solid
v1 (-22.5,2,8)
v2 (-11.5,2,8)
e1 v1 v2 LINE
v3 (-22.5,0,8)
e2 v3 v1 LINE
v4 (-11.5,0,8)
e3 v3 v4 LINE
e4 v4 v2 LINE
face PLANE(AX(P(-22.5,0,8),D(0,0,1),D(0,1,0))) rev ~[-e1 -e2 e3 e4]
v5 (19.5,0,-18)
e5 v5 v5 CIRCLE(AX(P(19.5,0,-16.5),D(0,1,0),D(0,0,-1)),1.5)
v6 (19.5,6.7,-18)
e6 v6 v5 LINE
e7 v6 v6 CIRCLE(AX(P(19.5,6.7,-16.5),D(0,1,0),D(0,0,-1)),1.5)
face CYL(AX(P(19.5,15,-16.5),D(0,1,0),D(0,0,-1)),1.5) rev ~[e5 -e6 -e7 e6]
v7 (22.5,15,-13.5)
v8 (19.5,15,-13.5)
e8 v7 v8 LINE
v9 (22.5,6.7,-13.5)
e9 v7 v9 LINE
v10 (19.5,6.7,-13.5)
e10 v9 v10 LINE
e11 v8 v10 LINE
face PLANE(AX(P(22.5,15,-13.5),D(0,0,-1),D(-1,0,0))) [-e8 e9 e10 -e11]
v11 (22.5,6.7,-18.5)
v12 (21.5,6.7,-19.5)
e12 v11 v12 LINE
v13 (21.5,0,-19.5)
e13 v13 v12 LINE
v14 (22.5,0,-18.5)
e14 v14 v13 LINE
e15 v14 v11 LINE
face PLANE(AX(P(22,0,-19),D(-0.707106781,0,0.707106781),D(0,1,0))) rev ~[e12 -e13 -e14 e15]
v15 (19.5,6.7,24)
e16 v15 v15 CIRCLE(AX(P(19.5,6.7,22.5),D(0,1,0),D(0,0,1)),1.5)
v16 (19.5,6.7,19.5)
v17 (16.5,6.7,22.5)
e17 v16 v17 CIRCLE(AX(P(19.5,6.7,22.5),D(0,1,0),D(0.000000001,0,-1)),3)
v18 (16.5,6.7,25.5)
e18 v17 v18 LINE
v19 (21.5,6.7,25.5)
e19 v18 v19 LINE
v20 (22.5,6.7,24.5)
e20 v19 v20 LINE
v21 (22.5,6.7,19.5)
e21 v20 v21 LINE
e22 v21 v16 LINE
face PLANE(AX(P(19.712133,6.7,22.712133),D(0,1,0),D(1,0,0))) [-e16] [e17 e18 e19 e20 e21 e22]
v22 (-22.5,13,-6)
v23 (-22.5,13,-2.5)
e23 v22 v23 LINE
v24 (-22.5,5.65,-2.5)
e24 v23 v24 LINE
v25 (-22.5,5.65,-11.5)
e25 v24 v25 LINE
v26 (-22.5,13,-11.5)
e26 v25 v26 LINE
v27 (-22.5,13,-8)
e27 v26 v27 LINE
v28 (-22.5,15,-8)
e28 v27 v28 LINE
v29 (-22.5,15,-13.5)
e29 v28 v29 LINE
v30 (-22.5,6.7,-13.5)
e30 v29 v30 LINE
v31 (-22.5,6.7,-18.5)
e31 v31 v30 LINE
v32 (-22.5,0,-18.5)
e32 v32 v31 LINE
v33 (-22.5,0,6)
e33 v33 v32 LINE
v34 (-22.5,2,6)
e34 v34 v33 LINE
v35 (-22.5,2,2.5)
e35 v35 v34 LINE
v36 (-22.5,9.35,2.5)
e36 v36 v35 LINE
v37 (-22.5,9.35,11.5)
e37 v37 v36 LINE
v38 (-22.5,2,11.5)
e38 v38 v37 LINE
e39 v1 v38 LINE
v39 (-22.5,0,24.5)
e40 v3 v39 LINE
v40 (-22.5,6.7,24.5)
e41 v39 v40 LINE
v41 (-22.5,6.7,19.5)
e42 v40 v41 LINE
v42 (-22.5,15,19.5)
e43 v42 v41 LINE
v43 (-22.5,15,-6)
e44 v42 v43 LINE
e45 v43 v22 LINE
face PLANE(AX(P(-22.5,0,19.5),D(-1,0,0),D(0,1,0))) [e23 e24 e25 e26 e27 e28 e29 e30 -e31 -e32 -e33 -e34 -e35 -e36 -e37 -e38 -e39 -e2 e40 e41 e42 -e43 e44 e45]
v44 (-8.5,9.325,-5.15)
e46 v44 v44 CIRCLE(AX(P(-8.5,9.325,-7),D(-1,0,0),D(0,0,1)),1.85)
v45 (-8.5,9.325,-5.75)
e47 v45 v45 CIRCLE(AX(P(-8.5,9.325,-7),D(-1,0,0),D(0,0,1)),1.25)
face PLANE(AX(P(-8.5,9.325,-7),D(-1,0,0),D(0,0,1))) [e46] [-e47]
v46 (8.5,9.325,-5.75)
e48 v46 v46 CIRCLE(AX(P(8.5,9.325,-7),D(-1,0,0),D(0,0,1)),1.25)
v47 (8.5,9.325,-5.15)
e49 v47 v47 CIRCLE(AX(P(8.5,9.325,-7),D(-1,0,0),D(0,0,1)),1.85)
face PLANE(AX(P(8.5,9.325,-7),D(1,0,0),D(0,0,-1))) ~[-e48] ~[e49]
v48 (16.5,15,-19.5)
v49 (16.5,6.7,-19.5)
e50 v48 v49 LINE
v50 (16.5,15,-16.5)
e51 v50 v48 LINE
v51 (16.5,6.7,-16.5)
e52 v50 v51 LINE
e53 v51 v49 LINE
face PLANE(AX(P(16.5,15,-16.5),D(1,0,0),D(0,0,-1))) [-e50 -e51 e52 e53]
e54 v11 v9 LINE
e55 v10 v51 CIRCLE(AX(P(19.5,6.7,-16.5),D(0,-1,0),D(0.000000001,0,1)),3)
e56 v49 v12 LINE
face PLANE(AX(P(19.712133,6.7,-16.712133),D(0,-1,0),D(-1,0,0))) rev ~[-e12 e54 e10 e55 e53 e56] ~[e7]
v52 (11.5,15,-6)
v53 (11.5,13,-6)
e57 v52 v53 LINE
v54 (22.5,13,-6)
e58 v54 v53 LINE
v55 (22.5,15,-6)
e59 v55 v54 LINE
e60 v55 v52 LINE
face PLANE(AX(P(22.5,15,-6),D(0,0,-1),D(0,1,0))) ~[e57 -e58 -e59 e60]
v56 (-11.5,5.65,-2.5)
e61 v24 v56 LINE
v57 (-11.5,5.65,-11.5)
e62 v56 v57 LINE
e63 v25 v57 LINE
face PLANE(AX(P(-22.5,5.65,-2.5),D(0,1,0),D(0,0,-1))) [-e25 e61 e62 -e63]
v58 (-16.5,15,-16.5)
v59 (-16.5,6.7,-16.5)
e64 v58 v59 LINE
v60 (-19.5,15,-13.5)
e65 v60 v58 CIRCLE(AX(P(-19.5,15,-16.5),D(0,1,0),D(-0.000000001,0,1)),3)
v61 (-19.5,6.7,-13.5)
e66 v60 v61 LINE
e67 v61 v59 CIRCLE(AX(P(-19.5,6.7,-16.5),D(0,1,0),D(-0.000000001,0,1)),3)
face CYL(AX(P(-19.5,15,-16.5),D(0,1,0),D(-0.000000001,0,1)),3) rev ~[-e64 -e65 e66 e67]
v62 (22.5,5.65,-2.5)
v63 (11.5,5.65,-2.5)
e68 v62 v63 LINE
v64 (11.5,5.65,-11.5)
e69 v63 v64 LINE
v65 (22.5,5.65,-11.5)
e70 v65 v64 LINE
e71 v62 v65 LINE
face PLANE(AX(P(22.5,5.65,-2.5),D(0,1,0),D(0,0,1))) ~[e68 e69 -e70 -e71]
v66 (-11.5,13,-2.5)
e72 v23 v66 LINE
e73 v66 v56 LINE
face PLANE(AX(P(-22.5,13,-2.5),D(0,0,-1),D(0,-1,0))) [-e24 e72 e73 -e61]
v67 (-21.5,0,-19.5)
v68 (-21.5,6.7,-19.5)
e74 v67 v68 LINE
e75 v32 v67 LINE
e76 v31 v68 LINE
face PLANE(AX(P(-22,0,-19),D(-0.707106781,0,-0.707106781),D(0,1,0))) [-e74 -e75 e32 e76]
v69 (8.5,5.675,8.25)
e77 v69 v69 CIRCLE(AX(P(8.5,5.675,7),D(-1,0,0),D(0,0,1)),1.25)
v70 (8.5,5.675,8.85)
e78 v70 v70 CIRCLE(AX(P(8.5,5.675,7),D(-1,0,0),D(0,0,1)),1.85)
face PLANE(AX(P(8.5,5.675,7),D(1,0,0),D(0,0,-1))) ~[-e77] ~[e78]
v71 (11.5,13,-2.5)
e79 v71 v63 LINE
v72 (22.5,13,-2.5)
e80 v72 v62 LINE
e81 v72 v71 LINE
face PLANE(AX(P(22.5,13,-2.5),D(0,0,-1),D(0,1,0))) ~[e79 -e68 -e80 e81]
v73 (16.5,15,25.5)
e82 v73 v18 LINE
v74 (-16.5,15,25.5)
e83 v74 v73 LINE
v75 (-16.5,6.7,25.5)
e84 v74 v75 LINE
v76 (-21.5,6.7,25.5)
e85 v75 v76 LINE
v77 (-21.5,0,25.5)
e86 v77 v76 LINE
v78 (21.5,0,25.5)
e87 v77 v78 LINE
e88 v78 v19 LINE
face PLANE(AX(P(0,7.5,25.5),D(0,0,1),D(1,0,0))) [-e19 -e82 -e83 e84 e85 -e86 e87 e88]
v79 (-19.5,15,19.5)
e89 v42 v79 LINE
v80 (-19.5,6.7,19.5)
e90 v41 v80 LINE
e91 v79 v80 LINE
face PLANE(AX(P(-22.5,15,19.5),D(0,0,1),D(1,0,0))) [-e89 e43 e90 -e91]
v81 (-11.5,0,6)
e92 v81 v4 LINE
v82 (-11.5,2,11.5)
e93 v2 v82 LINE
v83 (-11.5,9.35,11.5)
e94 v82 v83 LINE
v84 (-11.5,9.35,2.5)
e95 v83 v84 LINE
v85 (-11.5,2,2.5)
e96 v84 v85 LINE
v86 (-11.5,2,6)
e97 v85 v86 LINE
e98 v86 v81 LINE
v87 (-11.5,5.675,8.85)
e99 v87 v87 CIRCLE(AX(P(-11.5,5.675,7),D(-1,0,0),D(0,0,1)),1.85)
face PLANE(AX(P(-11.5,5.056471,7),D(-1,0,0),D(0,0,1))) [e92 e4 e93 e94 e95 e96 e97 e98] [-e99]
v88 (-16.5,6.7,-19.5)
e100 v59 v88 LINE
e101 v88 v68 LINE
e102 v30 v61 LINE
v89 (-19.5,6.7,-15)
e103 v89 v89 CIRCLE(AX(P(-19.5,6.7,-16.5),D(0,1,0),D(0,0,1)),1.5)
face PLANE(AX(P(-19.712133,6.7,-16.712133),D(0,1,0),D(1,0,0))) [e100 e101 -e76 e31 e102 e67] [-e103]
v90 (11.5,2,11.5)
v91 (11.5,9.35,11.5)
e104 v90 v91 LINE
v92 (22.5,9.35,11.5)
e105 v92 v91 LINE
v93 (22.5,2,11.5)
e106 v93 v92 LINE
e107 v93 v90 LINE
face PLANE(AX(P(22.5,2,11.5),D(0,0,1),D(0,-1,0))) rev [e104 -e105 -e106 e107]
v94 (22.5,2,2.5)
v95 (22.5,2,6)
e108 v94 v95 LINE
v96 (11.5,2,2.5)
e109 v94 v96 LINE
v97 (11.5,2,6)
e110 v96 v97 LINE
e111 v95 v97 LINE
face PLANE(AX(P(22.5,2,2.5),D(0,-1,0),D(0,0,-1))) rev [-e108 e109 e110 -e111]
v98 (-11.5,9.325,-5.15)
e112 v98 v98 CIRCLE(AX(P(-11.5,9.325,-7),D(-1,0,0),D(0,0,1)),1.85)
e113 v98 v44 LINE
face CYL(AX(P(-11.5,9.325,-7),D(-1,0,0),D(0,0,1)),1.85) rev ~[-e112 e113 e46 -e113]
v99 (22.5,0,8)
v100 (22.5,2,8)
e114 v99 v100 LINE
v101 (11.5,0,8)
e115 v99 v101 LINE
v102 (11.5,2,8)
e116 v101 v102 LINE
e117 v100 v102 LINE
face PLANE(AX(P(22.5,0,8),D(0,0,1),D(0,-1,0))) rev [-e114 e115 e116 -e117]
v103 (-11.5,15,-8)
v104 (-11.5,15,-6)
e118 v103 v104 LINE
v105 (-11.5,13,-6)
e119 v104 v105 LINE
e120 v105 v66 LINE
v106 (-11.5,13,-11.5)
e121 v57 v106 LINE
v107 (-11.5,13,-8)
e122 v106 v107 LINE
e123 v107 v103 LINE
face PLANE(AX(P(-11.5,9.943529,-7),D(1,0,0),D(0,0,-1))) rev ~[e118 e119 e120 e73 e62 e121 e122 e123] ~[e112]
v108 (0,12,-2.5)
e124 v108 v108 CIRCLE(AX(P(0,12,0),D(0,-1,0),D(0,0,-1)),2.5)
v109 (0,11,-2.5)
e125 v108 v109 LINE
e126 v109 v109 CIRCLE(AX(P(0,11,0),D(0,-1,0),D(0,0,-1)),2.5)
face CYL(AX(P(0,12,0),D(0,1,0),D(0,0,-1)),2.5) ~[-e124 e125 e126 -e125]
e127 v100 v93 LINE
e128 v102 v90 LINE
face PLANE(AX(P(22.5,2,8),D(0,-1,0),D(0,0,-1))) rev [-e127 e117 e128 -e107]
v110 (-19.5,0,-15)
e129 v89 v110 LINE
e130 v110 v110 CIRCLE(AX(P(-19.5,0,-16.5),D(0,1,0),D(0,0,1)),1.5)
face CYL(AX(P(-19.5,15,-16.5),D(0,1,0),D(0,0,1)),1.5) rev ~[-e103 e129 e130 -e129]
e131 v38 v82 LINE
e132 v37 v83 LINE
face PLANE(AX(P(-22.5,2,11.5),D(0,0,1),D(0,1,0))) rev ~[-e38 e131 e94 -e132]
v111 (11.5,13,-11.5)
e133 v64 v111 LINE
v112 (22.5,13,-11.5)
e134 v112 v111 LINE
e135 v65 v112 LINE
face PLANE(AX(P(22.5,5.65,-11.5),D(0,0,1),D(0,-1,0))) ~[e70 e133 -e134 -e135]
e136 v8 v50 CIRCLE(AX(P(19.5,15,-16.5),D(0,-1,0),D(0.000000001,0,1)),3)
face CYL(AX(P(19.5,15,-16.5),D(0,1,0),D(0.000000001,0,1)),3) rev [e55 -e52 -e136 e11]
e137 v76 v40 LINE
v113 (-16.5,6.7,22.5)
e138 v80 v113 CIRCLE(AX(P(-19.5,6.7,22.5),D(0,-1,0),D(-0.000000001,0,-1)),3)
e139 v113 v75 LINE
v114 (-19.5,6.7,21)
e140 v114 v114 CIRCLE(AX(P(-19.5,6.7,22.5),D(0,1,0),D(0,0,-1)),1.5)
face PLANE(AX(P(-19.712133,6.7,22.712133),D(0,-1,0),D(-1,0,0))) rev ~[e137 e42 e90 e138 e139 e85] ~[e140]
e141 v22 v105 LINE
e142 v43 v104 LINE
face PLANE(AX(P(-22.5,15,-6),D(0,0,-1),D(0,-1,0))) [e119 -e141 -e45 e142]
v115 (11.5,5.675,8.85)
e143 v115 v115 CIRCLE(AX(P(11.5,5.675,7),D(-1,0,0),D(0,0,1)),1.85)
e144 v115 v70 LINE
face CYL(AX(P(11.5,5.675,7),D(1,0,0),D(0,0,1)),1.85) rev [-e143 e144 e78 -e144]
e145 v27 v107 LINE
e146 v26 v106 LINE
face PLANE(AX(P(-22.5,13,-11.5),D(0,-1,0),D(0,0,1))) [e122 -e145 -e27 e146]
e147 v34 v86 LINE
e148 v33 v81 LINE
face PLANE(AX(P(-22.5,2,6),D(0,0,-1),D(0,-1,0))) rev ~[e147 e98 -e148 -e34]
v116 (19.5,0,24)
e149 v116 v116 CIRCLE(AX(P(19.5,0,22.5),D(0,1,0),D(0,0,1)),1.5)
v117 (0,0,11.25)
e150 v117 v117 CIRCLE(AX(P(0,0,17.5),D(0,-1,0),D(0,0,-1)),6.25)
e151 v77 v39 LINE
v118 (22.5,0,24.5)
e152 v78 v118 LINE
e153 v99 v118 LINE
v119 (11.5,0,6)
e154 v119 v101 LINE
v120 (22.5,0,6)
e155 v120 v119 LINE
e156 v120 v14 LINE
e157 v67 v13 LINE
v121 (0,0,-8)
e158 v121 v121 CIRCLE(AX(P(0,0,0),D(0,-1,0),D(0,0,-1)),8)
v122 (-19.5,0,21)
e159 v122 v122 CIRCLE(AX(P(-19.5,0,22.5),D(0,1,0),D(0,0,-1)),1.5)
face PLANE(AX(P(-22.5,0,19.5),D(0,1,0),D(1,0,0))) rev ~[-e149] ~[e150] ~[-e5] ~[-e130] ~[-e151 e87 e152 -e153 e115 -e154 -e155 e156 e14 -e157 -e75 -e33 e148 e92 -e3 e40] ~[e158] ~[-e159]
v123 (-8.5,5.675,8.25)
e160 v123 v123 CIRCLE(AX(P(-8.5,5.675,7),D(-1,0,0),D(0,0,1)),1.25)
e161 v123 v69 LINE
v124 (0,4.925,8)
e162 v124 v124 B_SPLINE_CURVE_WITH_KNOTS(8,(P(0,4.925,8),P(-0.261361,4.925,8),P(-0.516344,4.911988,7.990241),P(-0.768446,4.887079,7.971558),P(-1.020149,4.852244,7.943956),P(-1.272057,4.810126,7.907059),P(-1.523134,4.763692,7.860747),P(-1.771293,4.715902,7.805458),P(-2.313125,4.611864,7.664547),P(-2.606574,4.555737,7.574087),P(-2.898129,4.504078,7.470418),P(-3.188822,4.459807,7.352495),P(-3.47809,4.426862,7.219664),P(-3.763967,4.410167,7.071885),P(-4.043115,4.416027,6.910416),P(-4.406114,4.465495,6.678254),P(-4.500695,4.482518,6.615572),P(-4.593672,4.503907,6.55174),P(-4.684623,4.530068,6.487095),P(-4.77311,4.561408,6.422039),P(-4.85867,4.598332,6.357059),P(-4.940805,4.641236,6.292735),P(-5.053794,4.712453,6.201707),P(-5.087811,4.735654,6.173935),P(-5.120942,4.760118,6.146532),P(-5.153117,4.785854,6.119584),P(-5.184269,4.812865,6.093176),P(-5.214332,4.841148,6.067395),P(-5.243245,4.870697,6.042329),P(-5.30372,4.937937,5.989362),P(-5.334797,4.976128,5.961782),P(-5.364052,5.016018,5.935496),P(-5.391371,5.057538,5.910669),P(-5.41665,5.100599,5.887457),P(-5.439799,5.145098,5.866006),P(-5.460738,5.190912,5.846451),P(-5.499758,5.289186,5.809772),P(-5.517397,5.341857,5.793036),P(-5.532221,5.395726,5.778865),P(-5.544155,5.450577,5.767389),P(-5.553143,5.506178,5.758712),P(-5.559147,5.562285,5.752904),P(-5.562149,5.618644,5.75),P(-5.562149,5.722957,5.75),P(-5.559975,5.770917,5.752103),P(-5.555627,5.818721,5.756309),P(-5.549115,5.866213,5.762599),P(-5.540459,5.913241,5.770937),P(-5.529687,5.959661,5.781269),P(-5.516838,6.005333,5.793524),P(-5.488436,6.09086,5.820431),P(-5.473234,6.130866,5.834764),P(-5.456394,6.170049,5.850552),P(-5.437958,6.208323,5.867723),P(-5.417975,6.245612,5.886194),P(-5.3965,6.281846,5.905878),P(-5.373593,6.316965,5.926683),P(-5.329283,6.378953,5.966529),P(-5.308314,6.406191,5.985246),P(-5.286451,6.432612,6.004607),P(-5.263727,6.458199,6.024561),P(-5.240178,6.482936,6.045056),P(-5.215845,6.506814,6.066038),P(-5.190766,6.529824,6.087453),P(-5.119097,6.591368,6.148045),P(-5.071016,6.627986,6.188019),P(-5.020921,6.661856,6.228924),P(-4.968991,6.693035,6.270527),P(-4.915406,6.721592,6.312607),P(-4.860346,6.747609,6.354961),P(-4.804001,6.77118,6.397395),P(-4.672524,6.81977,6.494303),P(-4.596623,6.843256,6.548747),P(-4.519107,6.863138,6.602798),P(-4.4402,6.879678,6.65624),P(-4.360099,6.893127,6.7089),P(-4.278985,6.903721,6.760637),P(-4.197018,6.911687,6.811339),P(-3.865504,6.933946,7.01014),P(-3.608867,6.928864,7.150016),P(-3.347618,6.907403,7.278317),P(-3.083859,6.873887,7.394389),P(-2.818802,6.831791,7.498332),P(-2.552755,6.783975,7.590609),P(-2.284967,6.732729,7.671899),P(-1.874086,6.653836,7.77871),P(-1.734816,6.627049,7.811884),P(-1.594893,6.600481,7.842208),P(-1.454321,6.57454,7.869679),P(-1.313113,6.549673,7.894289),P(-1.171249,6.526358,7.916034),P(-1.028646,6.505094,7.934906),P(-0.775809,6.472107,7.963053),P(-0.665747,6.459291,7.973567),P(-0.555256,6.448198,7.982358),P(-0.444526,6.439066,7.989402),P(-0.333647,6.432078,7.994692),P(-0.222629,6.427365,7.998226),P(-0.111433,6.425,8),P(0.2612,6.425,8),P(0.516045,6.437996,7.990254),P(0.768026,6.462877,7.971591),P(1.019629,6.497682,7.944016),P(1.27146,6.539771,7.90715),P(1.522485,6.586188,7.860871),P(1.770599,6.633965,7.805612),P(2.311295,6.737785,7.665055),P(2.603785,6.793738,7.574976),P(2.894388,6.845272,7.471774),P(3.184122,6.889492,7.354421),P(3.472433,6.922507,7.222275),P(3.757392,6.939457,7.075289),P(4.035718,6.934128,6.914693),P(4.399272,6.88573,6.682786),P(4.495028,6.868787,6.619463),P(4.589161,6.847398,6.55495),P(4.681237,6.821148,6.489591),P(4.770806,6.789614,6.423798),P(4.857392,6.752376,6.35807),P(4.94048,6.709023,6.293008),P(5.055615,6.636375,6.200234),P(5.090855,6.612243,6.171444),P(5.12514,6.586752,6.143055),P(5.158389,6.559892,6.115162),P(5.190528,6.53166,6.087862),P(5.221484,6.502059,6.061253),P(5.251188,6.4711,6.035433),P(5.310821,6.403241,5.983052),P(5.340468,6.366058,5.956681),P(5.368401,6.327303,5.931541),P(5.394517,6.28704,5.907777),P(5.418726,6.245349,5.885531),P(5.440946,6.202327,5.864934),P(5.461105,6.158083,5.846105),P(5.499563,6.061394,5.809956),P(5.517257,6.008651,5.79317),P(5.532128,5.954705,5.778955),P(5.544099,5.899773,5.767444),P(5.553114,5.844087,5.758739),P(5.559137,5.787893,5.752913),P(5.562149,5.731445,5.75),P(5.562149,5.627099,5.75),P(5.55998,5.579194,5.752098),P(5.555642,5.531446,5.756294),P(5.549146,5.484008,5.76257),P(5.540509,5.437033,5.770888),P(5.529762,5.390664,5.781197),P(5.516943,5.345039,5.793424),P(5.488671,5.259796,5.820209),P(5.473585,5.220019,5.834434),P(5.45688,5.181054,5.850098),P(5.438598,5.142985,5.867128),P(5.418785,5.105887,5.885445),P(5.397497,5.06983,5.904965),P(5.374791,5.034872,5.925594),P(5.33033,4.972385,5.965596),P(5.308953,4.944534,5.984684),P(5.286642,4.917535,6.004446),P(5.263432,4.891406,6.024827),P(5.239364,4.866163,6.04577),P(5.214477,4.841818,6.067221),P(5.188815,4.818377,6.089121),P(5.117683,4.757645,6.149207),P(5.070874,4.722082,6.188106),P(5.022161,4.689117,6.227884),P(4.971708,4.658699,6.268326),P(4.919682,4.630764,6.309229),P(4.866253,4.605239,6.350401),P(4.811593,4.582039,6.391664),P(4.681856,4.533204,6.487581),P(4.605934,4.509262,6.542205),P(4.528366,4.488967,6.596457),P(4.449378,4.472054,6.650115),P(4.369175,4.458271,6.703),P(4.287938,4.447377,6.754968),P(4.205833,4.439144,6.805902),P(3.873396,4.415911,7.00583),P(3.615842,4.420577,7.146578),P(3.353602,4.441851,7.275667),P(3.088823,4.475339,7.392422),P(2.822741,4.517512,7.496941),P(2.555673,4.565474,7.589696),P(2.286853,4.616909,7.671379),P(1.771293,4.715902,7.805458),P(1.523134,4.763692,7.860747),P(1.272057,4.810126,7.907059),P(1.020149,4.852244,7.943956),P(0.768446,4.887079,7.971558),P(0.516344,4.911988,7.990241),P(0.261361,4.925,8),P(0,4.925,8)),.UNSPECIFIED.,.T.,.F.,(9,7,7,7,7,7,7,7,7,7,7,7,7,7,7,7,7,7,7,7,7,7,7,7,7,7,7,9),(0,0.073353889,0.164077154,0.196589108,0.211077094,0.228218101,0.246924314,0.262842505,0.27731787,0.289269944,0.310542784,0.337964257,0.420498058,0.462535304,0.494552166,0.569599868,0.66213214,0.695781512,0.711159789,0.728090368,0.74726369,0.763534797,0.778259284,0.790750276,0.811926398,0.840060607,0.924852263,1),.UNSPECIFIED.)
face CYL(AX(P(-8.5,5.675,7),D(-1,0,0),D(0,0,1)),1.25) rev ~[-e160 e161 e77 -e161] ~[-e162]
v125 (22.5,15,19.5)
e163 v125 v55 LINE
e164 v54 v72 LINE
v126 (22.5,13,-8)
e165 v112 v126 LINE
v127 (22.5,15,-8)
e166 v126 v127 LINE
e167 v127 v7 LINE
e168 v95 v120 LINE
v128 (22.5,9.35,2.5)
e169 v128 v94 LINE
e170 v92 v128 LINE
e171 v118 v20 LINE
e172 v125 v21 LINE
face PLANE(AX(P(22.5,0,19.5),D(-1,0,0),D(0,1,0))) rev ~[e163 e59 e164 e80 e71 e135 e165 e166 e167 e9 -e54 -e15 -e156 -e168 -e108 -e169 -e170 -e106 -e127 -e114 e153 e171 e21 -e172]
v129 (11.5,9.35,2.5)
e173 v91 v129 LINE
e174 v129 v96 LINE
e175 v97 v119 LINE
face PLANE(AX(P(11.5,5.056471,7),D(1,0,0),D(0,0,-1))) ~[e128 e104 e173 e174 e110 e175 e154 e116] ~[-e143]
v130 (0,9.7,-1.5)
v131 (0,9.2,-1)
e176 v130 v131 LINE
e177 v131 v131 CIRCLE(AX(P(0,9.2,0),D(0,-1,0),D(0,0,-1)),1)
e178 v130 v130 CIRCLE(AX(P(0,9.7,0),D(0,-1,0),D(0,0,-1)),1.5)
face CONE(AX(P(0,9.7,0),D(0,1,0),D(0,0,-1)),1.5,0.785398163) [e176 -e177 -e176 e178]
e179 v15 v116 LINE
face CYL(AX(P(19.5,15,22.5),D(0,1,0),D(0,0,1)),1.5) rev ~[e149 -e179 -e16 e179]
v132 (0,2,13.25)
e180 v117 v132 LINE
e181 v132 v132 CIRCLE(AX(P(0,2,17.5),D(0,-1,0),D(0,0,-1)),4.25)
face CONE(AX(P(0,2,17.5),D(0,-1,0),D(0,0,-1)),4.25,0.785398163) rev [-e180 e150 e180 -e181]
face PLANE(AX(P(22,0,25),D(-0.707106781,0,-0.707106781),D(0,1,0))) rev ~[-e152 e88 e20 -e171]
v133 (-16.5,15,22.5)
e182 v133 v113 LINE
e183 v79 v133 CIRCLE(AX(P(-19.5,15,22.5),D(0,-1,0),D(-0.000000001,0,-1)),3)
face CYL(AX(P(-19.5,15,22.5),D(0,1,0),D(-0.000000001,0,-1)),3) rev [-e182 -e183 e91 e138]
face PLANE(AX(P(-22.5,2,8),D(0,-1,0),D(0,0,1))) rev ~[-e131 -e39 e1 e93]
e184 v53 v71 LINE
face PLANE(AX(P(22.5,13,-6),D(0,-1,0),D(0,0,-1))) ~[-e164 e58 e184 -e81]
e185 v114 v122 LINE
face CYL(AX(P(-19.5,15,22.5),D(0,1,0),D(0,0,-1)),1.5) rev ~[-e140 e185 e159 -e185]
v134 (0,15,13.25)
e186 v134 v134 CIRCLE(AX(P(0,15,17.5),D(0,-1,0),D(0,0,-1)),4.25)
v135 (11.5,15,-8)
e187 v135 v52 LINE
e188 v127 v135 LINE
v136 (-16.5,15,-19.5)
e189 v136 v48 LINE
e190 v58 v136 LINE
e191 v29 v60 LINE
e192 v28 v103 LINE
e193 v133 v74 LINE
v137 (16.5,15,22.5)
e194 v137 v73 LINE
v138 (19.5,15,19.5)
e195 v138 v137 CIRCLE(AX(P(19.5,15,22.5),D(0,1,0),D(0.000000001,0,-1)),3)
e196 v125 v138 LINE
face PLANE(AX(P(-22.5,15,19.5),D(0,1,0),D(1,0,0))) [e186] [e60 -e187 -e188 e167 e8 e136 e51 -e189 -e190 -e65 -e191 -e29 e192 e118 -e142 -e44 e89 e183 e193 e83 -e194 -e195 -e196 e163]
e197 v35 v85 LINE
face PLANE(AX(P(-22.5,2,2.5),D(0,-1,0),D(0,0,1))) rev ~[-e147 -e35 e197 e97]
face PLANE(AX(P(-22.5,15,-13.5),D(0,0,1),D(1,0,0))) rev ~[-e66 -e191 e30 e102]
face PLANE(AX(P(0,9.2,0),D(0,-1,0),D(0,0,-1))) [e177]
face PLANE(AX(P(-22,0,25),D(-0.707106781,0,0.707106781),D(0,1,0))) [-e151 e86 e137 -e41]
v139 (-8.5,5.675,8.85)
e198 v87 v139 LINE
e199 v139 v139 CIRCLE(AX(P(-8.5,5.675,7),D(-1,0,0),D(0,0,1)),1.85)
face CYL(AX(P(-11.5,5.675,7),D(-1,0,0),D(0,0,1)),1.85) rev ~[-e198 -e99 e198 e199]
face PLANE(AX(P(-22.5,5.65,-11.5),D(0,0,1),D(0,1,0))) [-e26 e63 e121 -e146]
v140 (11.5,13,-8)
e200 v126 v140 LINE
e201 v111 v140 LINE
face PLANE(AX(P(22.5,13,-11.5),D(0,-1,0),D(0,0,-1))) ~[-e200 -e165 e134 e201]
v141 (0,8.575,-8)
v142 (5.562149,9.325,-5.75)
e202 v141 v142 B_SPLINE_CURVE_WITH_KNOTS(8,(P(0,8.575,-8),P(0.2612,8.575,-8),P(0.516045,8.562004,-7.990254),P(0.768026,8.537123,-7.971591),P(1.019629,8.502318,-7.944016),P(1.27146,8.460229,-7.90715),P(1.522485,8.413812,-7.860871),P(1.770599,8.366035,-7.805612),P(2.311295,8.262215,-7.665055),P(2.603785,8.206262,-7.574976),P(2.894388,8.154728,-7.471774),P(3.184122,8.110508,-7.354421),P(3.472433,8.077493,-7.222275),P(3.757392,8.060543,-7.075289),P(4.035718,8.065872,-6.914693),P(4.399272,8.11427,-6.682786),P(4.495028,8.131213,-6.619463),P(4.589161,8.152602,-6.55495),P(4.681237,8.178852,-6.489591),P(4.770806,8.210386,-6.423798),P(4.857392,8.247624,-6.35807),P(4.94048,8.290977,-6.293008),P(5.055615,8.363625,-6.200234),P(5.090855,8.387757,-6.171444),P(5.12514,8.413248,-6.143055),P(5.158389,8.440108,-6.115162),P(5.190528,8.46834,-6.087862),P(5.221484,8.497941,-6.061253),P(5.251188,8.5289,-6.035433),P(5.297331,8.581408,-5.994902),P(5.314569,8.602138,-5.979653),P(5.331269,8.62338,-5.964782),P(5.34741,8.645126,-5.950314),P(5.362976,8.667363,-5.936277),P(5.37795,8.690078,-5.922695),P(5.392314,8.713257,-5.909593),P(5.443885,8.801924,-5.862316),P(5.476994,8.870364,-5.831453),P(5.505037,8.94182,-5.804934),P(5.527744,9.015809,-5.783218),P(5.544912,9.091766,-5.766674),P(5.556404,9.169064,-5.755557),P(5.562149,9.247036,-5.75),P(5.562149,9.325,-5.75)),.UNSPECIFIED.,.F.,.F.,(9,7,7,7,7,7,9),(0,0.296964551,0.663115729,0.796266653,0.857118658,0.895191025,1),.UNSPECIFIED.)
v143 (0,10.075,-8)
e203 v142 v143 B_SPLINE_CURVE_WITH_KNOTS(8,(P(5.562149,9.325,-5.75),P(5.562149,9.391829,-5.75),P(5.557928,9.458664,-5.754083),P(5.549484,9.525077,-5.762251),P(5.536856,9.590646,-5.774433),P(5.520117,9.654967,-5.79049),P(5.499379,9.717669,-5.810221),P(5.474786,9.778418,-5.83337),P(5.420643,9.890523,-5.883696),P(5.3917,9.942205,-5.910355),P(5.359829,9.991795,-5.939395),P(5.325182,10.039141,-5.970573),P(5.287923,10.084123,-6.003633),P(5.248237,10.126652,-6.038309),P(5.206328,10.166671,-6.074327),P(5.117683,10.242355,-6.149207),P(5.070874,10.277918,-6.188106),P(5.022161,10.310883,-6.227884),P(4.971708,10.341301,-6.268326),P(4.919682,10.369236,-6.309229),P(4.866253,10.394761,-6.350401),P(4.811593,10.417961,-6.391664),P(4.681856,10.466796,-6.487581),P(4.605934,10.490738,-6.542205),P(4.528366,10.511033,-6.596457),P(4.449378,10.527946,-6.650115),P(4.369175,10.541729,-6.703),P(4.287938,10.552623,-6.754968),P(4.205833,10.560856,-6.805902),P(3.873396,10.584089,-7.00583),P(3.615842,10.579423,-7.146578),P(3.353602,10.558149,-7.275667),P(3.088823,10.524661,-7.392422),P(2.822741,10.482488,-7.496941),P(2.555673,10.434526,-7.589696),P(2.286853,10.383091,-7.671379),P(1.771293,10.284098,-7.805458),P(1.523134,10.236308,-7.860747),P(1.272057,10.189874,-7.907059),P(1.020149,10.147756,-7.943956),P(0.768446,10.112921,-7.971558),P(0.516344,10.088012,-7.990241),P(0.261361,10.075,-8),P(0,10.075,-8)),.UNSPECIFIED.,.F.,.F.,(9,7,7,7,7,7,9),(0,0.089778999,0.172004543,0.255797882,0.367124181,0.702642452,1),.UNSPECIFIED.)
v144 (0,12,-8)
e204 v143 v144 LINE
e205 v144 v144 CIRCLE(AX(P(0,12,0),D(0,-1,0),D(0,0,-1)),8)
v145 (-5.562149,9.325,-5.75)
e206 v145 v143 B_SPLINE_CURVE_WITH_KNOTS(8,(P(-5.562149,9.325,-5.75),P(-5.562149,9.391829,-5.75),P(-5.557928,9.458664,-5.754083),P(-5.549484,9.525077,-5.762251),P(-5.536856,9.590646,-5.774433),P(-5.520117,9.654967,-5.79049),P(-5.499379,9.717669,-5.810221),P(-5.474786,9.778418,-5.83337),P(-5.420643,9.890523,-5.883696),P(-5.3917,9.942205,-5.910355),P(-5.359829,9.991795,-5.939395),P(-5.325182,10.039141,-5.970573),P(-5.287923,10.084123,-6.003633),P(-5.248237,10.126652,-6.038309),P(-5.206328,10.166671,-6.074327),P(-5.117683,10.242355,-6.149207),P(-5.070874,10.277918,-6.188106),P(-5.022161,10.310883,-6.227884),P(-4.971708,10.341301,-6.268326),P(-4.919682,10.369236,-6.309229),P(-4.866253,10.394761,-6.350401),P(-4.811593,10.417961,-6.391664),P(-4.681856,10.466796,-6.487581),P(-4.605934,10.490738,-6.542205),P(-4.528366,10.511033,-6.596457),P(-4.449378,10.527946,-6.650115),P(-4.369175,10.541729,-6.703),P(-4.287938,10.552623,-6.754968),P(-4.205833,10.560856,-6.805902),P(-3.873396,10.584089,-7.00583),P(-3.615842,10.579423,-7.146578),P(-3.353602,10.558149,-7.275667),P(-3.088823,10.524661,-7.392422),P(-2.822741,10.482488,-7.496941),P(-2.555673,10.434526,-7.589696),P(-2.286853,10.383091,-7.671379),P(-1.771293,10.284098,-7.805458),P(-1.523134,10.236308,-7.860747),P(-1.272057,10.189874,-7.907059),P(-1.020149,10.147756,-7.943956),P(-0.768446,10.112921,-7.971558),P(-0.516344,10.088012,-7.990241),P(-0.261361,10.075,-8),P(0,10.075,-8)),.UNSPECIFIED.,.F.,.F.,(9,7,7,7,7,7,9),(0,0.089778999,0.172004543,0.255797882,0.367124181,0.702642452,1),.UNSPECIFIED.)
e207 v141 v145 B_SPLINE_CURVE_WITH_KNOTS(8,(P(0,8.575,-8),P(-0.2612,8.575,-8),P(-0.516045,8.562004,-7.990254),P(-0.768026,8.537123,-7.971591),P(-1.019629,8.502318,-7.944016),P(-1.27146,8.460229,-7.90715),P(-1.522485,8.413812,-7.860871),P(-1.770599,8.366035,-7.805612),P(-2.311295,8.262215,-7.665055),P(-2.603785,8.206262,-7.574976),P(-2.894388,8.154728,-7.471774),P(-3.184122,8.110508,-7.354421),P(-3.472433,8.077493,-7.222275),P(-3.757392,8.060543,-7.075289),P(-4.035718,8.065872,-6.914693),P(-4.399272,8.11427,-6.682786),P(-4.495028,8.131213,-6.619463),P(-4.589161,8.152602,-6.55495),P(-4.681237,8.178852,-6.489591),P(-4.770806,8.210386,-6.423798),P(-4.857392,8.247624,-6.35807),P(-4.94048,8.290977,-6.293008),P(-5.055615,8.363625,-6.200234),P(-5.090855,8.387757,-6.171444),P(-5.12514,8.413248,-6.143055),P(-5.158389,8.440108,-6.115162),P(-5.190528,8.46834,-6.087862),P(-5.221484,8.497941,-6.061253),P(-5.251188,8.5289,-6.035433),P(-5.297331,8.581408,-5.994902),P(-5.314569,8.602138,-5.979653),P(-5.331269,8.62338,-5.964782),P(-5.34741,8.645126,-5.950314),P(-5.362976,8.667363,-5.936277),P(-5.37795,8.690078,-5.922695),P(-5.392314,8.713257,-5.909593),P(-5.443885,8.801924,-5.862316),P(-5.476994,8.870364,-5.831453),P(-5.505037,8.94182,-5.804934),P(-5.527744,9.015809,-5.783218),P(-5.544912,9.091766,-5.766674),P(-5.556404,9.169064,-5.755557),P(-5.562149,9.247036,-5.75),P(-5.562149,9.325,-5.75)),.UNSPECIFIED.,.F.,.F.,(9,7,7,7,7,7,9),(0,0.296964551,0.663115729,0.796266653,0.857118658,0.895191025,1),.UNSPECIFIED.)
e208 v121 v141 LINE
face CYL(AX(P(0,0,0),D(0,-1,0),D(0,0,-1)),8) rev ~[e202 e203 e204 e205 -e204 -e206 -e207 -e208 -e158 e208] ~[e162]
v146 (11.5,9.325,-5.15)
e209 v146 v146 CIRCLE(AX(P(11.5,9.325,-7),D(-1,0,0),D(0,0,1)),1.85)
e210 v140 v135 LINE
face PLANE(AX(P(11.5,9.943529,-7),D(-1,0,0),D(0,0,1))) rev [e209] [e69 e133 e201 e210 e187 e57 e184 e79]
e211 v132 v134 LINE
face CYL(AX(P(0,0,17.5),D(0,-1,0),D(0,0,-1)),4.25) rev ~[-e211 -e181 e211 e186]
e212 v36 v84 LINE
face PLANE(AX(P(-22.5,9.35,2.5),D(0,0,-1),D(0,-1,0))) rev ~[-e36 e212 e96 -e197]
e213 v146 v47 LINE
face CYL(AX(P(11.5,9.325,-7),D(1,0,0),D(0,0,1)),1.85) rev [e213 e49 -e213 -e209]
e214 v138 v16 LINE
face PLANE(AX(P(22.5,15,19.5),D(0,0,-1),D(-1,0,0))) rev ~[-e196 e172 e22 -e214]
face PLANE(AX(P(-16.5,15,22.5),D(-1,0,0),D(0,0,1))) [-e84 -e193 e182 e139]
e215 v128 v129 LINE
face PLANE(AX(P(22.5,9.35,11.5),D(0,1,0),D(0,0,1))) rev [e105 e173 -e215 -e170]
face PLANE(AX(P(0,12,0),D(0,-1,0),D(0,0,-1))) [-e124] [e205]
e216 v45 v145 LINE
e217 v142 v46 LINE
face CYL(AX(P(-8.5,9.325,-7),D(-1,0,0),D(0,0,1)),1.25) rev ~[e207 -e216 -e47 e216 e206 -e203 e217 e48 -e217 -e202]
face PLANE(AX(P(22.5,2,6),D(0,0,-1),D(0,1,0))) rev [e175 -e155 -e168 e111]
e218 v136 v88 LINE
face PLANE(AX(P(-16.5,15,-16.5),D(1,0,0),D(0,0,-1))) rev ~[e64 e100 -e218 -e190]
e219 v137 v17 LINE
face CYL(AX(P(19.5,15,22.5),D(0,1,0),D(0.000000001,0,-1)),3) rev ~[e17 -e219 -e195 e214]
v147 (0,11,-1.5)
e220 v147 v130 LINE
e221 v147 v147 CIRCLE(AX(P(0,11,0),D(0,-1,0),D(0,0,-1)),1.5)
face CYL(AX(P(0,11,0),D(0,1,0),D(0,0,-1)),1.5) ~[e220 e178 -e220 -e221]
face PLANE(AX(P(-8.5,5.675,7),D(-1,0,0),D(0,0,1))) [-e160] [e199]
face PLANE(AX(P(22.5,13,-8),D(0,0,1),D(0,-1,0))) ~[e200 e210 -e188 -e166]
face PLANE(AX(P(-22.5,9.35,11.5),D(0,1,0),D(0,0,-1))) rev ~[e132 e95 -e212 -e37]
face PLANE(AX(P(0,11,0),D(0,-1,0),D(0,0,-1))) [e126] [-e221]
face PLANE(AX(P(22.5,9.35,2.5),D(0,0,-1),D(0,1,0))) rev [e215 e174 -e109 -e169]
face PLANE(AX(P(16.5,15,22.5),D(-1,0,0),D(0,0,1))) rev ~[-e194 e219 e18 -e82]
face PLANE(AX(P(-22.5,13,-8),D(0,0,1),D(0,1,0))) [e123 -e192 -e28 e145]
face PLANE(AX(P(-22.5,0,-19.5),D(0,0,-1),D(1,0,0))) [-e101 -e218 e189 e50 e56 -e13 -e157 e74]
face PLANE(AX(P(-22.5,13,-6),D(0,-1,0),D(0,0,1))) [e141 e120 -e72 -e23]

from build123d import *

# Parameters (mm, degrees)
SKETCH_1_W          = 45
SKETCH_1_H          = 39
EXTRUDE_1_DEPTH     = 15
CUT_EXTRUDE_1_DEPTH = 11
SKETCH_3_R          = 1.85
CUT_EXTRUDE_2_DEPTH = 3
SKETCH_4_R          = 1.25
CUT_EXTRUDE_3_DEPTH = 40.575876491
SKETCH_5_R          = 8
CUT_EXTRUDE_4_DEPTH = 12
SKETCH_6_R          = 2.5
EXTRUDE_2_DEPTH     = 1
SKETCH_7_R          = 1.5
EXTRUDE_3_DEPTH     = 1.8
SKETCH_8_W          = 45
SKETCH_8_H          = 15
EXTRUDE_4_DEPTH     = 6
SKETCH_10_R         = 1.5
CUT_EXTRUDE_5_DEPTH = 38.16853512
CUT_EXTRUDE_6_DEPTH = 8.3
SKETCH_12_R         = 4.25
CUT_EXTRUDE_7_DEPTH = 38.16853508
CHAMFER_4_SIZE      = 2
CHAMFER_2_SIZE      = 0.5
CHAMFER_3_SIZE      = 1


with BuildPart() as part:
    # 草图1 → 凸台-拉伸1 (new body)
    with BuildSketch(Plane(origin=(0, 0, 0), x_dir=(1, 0, 0), z_dir=(0, 1, 0))):
        Rectangle(SKETCH_1_W, SKETCH_1_H)
    extrude(amount=EXTRUDE_1_DEPTH)

    # 草图2 → 切除-拉伸1 (cut)
    with BuildSketch(Plane.ZY.offset(22.5)):
        Polygon((-8, 13), (-8, 15), (-6, 15), (-6, 13), (-2.5, 13), (-2.5, 5.65), (-11.5, 5.65), (-11.5, 13), align=None)
        Polygon((6, 2), (6, 0), (8, 0), (8, 2), (11.5, 2), (11.5, 9.35), (2.5, 9.35), (2.5, 2), align=None)
    cut_extrude_1 = extrude(amount=-CUT_EXTRUDE_1_DEPTH, mode=Mode.SUBTRACT)

    # 草图3 → 切除-拉伸2 (cut)
    with BuildSketch(Plane.ZY.offset(11.5)):
        with Locations((-7, 9.325)):
            Circle(SKETCH_3_R)
        with Locations((7, 5.675)):
            Circle(SKETCH_3_R)
    cut_extrude_2 = extrude(amount=-CUT_EXTRUDE_2_DEPTH, mode=Mode.SUBTRACT)

    # 草图4 → 切除-拉伸3 (cut, through all)
    with BuildSketch(Plane.ZY.offset(8.5)):
        with Locations((-7, 9.325)):
            Circle(SKETCH_4_R)
        with Locations((7, 5.675)):
            Circle(SKETCH_4_R)
    extrude(amount=-CUT_EXTRUDE_3_DEPTH, mode=Mode.SUBTRACT)

    # 镜向1: 切除-拉伸1, 切除-拉伸2 across plane
    add(cut_extrude_1.mirror(Plane(origin=(0, 0, 0), x_dir=(0, 0, 1), z_dir=(1, 0, 0))), mode=Mode.SUBTRACT)
    add(cut_extrude_2.mirror(Plane(origin=(0, 0, 0), x_dir=(0, 0, 1), z_dir=(1, 0, 0))), mode=Mode.SUBTRACT)

    # 草图5 → 切除-拉伸4 (cut)
    with BuildSketch(Plane.XZ):
        with Locations(Location((0, 0, 0), (0, 0, 270))):
            Circle(SKETCH_5_R)
    extrude(amount=-CUT_EXTRUDE_4_DEPTH, mode=Mode.SUBTRACT)

    # 草图6 → 凸台-拉伸2 (add)
    with BuildSketch(Plane.XZ.offset(-12)):
        with Locations(Location((0, 0, 0), (0, 0, 270))):
            Circle(SKETCH_6_R)
    extrude(amount=EXTRUDE_2_DEPTH)

    # 草图7 → 凸台-拉伸3 (add)
    with BuildSketch(Plane.XZ.offset(-11)):
        with Locations(Location((0, 0, 0), (0, 0, 270))):
            Circle(SKETCH_7_R)
    extrude(amount=EXTRUDE_3_DEPTH)

    # 草图8 → 凸台-拉伸4 (add)
    with BuildSketch(Plane.XY.offset(19.5)):
        with Locations((0, 7.5)):
            Rectangle(SKETCH_8_W, SKETCH_8_H)
    extrude(amount=EXTRUDE_4_DEPTH)

    # 草图10 → 切除-拉伸5 (cut, through all)
    with BuildSketch(Plane(origin=(0, 15, 0), x_dir=(1, 0, 0), z_dir=(0, 1, 0))):
        with Locations(Location((-19.5, 16.5, 0), (0, 0, 270))):
            Circle(SKETCH_10_R)
        with Locations(Location((19.5, 16.5, 0), (0, 0, 90))):
            Circle(SKETCH_10_R)
        with Locations(Location((19.5, -22.5, 0), (0, 0, 270))):
            Circle(SKETCH_10_R)
        with Locations(Location((-19.5, -22.5, 0), (0, 0, 90))):
            Circle(SKETCH_10_R)
    extrude(amount=-CUT_EXTRUDE_5_DEPTH, mode=Mode.SUBTRACT)

    # 草图11 → 切除-拉伸6 (cut)
    with BuildSketch(Plane(origin=(0, 15, 0), x_dir=(1, 0, 0), z_dir=(0, 1, 0))):
        with BuildLine():
            Line((-16.5, 16.5), (-16.5, 19.5))
            Line((-16.5, 19.5), (-22.5, 19.5))
            Line((-22.5, 19.5), (-22.5, 13.5))
            Line((-22.5, 13.5), (-19.5, 13.5))
            ThreePointArc((-19.5, 13.5), (-17.378679656, 14.378679656), (-16.5, 16.5))
        make_face()
        with BuildLine():
            Line((22.5, 19.5), (22.5, 13.5))
            Line((22.5, 13.5), (19.5, 13.5))
            ThreePointArc((19.5, 13.5), (17.378679656, 14.378679656), (16.5, 16.5))
            Line((16.5, 16.5), (16.5, 19.5))
            Line((16.5, 19.5), (22.5, 19.5))
        make_face()
        with BuildLine():
            Line((16.5, -25.5), (22.5, -25.5))
            Line((22.5, -25.5), (22.5, -19.5))
            Line((22.5, -19.5), (19.5, -19.5))
            ThreePointArc((19.5, -19.5), (17.378679656, -20.378679656), (16.5, -22.5))
            Line((16.5, -22.5), (16.5, -25.5))
        make_face()
        with BuildLine():
            Line((-22.5, -25.5), (-22.5, -19.5))
            Line((-22.5, -19.5), (-19.5, -19.5))
            ThreePointArc((-19.5, -19.5), (-17.378679656, -20.378679656), (-16.5, -22.5))
            Line((-16.5, -22.5), (-16.5, -25.5))
            Line((-16.5, -25.5), (-22.5, -25.5))
        make_face()
    extrude(amount=-CUT_EXTRUDE_6_DEPTH, mode=Mode.SUBTRACT)

    # 草图12 → 切除-拉伸7 (cut, through all)
    with BuildSketch(Plane.XZ):
        with Locations(Location((0, 17.5, 0), (0, 0, 270))):
            Circle(SKETCH_12_R)
    extrude(amount=-CUT_EXTRUDE_7_DEPTH, mode=Mode.SUBTRACT)

    # 倒角4
    chamfer_4_edges = [part.edges().sort_by_distance(p)[0] for p in [
        (0, 0, 21.75),
    ]]
    chamfer(chamfer_4_edges, length=CHAMFER_4_SIZE)

    # 倒角2
    chamfer_2_edges = [part.edges().sort_by_distance(p)[0] for p in [
        (0, 9.2, 1.5),
    ]]
    chamfer(chamfer_2_edges, length=CHAMFER_2_SIZE)

    # 倒角3
    chamfer_3_edges = [part.edges().sort_by_distance(p)[0] for p in [
        (22.5, 3.35, 25.5),
        (-22.5, 3.35, 25.5),
        (-22.5, 3.35, -19.5),
        (22.5, 3.35, -19.5),
    ]]
    chamfer(chamfer_3_edges, length=CHAMFER_3_SIZE)


solid = part.part
